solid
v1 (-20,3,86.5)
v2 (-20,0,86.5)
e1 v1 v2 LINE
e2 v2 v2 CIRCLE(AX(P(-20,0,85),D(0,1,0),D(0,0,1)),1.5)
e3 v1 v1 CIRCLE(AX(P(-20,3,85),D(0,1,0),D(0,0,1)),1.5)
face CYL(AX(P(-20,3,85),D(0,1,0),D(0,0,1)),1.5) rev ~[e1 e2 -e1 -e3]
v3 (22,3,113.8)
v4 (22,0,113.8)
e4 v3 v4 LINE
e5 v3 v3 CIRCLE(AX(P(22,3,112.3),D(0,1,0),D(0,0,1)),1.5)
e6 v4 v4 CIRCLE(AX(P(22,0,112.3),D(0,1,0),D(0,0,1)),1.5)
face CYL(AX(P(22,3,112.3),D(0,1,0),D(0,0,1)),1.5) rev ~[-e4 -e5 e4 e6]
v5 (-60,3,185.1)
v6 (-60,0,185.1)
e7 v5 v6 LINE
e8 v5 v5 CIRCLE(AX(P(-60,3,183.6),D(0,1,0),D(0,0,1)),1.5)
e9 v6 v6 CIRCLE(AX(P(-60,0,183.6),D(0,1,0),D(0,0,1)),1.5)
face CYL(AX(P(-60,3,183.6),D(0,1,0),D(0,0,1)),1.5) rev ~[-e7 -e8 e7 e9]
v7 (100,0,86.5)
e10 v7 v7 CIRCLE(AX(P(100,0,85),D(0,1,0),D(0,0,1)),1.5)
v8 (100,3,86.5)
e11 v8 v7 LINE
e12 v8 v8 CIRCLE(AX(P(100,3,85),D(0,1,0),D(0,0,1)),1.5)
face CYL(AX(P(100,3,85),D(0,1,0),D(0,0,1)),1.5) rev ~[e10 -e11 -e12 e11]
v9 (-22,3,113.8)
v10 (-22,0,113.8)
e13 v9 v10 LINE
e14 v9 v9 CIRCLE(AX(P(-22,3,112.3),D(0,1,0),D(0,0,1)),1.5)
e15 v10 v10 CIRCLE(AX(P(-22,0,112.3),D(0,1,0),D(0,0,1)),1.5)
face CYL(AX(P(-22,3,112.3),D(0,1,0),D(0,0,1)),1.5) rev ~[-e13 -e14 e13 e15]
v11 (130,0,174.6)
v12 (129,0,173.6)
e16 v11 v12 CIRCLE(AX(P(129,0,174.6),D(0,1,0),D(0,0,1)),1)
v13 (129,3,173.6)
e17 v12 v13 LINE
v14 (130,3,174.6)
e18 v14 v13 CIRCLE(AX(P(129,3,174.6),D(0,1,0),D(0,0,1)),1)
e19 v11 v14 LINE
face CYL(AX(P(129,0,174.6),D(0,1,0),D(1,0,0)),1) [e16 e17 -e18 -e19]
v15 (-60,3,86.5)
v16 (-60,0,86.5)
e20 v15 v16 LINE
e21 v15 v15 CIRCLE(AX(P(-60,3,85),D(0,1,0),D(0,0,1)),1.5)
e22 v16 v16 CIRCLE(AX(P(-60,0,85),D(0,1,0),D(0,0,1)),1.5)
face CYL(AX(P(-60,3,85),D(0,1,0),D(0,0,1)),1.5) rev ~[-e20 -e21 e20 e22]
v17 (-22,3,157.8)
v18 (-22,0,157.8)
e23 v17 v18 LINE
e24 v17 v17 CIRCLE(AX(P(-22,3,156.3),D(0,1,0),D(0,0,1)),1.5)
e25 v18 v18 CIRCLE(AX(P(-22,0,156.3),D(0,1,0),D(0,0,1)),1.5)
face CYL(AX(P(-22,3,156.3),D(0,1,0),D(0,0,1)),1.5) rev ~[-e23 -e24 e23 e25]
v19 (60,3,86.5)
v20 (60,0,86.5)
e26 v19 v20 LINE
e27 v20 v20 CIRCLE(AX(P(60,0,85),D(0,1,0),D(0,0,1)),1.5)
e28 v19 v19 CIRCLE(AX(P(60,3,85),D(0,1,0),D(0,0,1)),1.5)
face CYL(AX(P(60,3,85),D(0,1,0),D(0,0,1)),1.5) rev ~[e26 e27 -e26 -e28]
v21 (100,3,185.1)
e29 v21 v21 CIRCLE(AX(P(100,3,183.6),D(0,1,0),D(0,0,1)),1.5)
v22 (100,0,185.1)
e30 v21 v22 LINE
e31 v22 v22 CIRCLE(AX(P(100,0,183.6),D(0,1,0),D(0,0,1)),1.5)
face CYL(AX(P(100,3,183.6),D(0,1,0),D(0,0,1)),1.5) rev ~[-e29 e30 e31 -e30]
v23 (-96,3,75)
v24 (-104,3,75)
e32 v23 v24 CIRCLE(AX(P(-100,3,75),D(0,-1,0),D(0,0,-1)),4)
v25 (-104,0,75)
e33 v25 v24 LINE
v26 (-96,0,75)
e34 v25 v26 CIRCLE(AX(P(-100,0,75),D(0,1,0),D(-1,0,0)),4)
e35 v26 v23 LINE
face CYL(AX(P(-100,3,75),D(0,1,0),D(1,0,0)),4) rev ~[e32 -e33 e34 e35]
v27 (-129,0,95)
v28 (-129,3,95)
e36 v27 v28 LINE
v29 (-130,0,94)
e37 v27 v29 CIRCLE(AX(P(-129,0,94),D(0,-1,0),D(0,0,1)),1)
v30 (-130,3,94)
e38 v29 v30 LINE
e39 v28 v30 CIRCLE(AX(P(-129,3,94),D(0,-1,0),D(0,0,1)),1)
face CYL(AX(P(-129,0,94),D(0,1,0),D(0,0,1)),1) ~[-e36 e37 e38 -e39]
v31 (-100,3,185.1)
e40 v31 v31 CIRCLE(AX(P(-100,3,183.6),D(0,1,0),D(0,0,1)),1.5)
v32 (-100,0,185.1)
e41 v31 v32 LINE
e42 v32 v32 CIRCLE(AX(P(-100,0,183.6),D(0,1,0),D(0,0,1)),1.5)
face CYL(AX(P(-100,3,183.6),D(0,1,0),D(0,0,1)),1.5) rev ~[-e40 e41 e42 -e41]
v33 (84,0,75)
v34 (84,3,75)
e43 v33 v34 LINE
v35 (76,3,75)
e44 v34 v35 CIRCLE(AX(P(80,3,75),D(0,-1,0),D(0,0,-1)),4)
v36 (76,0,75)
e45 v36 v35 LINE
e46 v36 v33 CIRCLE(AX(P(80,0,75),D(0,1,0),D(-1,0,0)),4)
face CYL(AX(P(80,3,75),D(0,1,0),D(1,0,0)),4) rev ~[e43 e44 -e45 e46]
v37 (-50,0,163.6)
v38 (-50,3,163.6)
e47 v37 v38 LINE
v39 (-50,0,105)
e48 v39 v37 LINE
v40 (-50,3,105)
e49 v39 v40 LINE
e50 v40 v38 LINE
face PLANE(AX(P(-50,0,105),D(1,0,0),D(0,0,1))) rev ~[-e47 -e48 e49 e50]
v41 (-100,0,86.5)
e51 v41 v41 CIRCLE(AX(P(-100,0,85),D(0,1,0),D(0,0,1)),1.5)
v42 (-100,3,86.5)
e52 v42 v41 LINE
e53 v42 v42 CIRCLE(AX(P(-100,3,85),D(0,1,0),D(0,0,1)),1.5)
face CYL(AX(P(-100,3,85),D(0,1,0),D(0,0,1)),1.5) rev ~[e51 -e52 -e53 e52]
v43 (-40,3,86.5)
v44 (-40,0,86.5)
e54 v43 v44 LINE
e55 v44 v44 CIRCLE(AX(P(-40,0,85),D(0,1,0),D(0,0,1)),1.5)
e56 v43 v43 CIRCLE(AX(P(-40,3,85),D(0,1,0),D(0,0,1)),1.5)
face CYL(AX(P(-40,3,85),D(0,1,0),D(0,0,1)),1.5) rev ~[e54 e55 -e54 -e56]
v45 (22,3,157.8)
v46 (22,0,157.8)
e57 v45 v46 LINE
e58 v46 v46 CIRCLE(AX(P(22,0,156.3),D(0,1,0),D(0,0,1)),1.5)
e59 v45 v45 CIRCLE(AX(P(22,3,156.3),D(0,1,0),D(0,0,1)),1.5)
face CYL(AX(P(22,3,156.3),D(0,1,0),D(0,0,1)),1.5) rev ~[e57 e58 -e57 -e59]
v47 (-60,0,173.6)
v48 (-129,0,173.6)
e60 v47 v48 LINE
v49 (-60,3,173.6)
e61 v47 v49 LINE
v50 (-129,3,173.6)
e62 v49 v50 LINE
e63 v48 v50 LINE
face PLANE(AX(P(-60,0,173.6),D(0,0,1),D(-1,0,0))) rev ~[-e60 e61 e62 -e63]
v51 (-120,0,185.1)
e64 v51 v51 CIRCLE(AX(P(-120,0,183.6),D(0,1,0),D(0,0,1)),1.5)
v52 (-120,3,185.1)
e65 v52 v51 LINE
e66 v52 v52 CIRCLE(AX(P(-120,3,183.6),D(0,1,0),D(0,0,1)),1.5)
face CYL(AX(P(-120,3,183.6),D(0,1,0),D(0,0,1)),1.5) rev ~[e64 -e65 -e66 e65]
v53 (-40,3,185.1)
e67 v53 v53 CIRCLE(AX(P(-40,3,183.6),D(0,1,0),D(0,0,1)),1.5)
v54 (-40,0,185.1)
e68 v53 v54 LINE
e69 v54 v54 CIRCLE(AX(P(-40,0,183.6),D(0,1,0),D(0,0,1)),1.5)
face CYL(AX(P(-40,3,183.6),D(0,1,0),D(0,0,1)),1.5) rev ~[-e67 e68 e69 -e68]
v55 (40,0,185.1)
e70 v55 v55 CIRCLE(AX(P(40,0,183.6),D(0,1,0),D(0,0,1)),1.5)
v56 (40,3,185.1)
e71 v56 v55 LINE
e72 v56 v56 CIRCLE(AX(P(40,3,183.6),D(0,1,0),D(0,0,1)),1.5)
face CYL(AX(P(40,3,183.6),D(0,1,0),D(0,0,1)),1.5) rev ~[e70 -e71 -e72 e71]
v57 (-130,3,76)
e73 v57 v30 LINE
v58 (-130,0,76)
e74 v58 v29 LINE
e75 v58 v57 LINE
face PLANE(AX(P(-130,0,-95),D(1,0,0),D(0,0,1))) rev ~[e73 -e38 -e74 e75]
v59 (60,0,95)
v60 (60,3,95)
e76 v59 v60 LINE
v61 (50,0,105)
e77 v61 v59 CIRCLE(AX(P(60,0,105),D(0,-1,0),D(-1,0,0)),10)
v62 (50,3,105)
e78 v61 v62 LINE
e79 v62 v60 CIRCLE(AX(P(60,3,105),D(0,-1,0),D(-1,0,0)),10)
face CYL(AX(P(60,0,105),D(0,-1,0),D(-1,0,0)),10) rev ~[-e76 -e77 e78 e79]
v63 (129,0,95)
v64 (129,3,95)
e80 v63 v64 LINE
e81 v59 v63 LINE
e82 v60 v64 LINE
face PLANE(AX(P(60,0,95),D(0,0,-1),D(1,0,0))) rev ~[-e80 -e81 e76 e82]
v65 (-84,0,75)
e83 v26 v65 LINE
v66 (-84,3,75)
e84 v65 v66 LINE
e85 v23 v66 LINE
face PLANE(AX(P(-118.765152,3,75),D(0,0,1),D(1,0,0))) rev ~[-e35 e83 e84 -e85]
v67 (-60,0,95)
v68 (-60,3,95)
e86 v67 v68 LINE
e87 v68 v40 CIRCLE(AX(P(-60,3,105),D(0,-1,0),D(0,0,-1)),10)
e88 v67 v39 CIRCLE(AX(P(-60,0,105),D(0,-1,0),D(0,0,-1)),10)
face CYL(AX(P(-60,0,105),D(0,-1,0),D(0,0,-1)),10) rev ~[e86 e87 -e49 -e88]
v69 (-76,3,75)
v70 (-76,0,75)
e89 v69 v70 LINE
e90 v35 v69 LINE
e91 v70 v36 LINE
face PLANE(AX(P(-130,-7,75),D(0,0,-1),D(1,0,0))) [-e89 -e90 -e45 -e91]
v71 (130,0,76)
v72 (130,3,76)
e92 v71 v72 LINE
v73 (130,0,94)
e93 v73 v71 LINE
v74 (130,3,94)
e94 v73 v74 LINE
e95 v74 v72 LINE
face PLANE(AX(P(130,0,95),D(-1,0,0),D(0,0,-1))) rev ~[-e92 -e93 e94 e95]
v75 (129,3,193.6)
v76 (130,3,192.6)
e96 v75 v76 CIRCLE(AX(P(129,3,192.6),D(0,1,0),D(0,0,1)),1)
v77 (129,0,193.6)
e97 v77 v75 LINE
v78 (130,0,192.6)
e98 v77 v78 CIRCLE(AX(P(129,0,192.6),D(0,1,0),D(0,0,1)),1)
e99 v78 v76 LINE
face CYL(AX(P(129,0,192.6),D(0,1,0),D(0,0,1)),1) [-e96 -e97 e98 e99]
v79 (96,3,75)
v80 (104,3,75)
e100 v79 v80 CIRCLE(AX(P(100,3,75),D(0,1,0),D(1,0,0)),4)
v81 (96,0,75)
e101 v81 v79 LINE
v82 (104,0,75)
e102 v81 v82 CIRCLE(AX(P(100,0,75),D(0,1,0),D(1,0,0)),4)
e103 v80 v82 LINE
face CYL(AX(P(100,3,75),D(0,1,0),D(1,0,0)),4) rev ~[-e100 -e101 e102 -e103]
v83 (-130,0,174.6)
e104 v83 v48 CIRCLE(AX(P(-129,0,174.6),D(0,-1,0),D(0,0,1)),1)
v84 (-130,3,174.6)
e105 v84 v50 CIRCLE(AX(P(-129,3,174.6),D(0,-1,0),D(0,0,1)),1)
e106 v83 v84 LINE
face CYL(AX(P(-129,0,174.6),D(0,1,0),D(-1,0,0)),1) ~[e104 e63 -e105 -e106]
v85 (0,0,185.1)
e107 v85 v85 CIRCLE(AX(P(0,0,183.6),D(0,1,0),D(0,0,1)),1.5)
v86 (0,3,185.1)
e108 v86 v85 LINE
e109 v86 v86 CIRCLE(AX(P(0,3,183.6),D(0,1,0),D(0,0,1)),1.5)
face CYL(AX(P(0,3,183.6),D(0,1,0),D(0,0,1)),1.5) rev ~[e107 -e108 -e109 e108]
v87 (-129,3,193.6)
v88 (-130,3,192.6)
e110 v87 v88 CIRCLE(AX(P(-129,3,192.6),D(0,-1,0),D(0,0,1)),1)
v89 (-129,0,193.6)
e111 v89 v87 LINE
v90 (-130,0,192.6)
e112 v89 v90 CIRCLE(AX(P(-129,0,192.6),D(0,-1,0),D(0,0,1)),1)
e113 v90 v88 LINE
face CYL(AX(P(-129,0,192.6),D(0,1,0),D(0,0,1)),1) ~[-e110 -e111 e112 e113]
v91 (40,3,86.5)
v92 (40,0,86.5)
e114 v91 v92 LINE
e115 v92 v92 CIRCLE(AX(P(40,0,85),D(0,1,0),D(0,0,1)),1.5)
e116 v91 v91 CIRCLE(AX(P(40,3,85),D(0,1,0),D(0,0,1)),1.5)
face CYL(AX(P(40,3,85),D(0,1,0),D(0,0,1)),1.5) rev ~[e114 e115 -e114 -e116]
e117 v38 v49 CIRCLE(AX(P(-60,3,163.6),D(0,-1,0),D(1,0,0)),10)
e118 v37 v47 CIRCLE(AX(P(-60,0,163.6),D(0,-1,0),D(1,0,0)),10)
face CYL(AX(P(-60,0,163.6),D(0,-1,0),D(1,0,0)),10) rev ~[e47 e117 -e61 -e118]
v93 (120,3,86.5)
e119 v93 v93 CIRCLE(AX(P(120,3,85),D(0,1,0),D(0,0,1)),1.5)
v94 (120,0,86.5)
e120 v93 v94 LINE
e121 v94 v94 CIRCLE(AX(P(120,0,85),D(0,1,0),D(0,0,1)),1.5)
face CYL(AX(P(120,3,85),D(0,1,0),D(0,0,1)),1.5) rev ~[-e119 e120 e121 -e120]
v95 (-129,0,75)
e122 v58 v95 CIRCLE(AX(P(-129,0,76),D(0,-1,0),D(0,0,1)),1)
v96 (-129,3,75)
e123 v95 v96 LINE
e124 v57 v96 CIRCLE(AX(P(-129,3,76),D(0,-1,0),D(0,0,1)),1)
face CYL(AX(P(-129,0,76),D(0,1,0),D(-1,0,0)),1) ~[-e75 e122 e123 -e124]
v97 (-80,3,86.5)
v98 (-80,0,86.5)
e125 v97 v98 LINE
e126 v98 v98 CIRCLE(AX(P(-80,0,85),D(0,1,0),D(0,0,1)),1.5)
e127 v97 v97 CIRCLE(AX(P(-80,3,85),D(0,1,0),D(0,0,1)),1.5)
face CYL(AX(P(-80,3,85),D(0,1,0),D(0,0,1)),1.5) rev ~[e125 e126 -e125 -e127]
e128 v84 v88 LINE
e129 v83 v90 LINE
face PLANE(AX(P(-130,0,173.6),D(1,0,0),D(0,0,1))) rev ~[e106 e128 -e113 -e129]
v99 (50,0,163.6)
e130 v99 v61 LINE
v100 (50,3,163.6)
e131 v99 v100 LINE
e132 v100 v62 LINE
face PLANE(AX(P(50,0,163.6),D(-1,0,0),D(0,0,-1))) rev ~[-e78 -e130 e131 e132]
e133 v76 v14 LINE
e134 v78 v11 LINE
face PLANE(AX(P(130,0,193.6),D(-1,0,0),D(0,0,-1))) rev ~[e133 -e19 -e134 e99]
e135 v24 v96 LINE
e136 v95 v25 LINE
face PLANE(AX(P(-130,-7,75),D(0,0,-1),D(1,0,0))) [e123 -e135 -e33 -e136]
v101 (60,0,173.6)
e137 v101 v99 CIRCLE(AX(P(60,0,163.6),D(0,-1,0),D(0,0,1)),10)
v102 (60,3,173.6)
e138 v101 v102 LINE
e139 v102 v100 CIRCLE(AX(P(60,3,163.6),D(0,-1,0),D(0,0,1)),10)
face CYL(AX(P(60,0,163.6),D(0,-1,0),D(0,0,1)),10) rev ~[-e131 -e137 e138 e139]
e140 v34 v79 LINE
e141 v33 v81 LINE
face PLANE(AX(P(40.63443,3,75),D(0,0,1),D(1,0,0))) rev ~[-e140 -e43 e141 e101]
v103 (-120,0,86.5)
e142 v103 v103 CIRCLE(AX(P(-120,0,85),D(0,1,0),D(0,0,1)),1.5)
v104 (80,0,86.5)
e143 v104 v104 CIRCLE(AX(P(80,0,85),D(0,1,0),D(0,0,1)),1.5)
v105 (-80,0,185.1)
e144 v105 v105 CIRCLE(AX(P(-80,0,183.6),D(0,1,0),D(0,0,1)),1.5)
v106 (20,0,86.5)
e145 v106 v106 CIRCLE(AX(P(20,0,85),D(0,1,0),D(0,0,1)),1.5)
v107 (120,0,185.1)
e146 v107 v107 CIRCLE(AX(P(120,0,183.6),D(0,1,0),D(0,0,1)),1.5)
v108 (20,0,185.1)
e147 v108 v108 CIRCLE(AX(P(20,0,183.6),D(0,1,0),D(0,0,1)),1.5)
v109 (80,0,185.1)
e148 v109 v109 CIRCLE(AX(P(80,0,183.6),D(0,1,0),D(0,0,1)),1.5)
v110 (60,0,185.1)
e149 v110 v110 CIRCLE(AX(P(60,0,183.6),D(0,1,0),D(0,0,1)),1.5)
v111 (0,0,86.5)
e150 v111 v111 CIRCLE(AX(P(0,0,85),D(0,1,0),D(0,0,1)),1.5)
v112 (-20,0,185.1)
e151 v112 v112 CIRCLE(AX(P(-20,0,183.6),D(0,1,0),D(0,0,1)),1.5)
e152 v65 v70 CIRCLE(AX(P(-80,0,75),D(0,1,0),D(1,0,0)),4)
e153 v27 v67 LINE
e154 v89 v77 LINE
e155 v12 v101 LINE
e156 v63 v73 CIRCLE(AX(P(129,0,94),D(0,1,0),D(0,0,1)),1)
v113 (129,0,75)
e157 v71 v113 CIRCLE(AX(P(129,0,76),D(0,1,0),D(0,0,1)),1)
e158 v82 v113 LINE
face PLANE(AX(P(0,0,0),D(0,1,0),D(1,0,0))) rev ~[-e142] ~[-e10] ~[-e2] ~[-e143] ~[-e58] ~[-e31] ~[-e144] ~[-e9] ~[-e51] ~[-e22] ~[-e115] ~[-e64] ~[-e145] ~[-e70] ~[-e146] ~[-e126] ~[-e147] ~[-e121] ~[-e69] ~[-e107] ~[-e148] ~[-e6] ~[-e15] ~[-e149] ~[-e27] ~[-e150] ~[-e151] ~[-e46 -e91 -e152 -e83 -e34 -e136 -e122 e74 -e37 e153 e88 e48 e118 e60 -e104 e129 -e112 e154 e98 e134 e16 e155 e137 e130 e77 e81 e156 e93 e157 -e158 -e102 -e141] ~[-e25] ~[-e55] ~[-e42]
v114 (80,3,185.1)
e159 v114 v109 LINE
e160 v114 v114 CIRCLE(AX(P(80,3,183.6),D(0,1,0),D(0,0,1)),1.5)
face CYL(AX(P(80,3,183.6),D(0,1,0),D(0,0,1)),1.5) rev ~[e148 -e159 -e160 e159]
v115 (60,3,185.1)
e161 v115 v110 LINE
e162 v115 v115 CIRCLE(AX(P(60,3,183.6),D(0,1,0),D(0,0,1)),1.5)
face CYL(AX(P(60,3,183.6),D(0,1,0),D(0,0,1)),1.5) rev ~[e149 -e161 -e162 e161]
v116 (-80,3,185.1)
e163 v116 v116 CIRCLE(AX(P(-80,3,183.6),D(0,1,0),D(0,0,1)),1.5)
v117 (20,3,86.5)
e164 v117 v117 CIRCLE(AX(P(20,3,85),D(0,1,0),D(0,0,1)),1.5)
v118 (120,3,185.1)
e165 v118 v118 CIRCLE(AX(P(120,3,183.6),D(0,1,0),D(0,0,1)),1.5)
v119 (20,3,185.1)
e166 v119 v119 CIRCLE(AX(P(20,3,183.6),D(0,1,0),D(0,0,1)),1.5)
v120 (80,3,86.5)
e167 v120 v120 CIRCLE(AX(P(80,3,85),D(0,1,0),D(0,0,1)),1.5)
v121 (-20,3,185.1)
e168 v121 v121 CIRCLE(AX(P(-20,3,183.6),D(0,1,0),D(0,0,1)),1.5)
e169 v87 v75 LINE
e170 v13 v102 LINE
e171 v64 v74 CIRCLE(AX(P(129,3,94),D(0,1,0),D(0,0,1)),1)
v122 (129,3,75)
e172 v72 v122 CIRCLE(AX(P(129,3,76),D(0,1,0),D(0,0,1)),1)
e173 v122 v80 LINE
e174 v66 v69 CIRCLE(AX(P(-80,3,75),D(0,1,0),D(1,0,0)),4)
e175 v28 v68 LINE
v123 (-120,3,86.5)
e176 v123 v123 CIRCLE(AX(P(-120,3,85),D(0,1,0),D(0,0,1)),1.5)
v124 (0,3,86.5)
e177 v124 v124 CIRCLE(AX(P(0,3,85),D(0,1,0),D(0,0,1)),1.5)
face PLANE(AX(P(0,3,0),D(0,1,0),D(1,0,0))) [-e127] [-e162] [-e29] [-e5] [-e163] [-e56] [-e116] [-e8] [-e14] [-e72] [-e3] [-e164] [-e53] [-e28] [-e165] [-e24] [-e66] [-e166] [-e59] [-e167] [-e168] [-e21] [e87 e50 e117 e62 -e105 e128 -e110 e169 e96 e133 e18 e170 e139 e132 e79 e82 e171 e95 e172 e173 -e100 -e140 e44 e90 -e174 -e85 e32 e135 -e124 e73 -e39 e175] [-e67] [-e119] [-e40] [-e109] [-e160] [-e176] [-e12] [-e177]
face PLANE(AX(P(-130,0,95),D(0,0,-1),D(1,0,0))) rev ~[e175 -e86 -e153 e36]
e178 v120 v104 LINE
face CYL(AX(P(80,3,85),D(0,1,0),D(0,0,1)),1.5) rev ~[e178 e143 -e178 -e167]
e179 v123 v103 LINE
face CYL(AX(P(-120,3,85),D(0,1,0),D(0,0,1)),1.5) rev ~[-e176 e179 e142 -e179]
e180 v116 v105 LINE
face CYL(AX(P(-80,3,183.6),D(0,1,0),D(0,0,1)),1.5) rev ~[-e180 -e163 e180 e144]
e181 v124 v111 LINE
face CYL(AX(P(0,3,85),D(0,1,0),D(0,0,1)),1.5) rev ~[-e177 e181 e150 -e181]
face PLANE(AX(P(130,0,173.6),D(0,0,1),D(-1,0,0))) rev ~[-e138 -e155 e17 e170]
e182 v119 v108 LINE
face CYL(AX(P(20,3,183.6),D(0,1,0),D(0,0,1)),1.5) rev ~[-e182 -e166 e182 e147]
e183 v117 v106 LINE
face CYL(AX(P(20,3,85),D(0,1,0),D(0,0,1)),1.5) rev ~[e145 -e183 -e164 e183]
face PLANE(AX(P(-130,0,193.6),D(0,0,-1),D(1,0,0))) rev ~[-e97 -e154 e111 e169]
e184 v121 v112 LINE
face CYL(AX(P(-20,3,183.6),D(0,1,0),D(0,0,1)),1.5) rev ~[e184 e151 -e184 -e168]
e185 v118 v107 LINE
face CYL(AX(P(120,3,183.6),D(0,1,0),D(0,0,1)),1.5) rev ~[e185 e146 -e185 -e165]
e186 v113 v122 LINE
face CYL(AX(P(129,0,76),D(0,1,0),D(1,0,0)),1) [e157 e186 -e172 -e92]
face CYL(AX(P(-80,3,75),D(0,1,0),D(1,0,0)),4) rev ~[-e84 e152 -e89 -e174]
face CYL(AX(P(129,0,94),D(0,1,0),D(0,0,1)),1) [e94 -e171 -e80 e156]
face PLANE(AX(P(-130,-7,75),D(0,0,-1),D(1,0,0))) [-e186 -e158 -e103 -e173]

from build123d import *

# Parameters (mm, degrees)
EXTRUDE_1_DEPTH     = 3
CUT_EXTRUDE_START   = -10
CUT_EXTRUDE_1_DEPTH = 10
SKETCH_3_W          = 20
SKETCH_3_H          = 40
EXTRUDE_2_DEPTH     = 3
FILLET_2_R          = 1
FILLET_3_R          = 1
SKETCH_5_R          = 1.5
CUT_EXTRUDE_2_DEPTH = 10
SKETCH_6_R          = 1.5
CUT_EXTRUDE_3_DEPTH = 10
SKETCH_8_R          = 1.5
CUT_EXTRUDE_4_DEPTH = 234.216551728
SKETCH_10_R         = 4
CUT_EXTRUDE_6_DEPTH = 234.216551728
SKETCH_11_W         = 40.88
SKETCH_11_H         = 149.99999794
CUT_EXTRUDE_7_DEPTH = 10
SKETCH_12_W         = 75.865569995
SKETCH_12_H         = 55.877442545
CUT_EXTRUDE_8_DEPTH = 10


with BuildPart() as part:
    # 草图1 → 凸台-拉伸1 (new body)
    with BuildSketch(Plane(origin=(0, 0, 0), x_dir=(1, 0, 0), z_dir=(0, 1, 0))):
        with BuildLine():
            Line((-130, -193.6), (-50, -193.6))
            Line((-50, -193.6), (50, -193.6))
            Line((50, -193.6), (130, -193.6))
            Line((130, -193.6), (130, -173.6))
            Line((130, -173.6), (60, -173.6))
            ThreePointArc((60, -173.6), (52.928932188, -170.671067812), (50, -163.6))
            Line((50, -163.6), (50, -105))
            ThreePointArc((50, -105), (52.928932188, -97.928932188), (60, -95))
            Line((60, -95), (130, -95))
            Line((130, -95), (130, -75))
            Line((130, -75), (130, 75))
            Line((130, 75), (130, 95))
            Line((130, 95), (60, 95))
            ThreePointArc((60, 95), (52.928932188, 97.928932188), (50, 105))
            Line((50, 105), (50, 163.6))
            ThreePointArc((50, 163.6), (52.928932188, 170.671067812), (60, 173.6))
            Line((60, 173.6), (130, 173.6))
            Line((130, 173.6), (130, 193.6))
            Line((130, 193.6), (50, 193.6))
            Line((50, 193.6), (-50, 193.6))
            Line((-50, 193.6), (-130, 193.6))
            Line((-130, 193.6), (-130, 173.6))
            Line((-130, 173.6), (-60, 173.6))
            ThreePointArc((-60, 173.6), (-52.928932188, 170.671067812), (-50, 163.6))
            Line((-50, 163.6), (-50, 105))
            ThreePointArc((-50, 105), (-52.928932188, 97.928932188), (-60, 95))
            Line((-60, 95), (-130, 95))
            Line((-130, 95), (-130, 75))
            Line((-130, 75), (-130, -75))
            Line((-130, -75), (-130, -95))
            Line((-130, -95), (-60, -95))
            ThreePointArc((-60, -95), (-52.928932188, -97.928932188), (-50, -105))
            Line((-50, -105), (-50, -163.6))
            ThreePointArc((-50, -163.6), (-52.928932188, -170.671067812), (-60, -173.6))
            Line((-60, -173.6), (-130, -173.6))
            Line((-130, -173.6), (-130, -193.6))
        make_face()
    extrude(amount=EXTRUDE_1_DEPTH)

    # 草图2 → 切除-拉伸1 (cut)
    with BuildSketch(Plane(origin=(0, 3, 0), x_dir=(1, 0, 0), z_dir=(0, 1, 0)).offset(CUT_EXTRUDE_START)):
        with BuildLine():
            Line((-130, 95), (-130, -75))
            Line((-130, -75), (130, -75))
            Line((130, -75), (130, 95))
            Line((130, 95), (60, 95))
            ThreePointArc((60, 95), (52.928932188, 97.928932188), (50, 105))
            Line((50, 105), (50, 163.6))
            ThreePointArc((50, 163.6), (52.928932188, 170.671067812), (60, 173.6))
            Line((60, 173.6), (130, 173.6))
            Line((130, 173.6), (130, 193.6))
            Line((130, 193.6), (-130, 193.6))
            Line((-130, 193.6), (-130, 173.6))
            Line((-130, 173.6), (-60, 173.6))
            ThreePointArc((-60, 173.6), (-52.928932188, 170.671067812), (-50, 163.6))
            Line((-50, 163.6), (-50, 105))
            ThreePointArc((-50, 105), (-52.928932188, 97.928932188), (-60, 95))
            Line((-60, 95), (-130, 95))
        make_face()
    extrude(amount=CUT_EXTRUDE_1_DEPTH, mode=Mode.SUBTRACT)

    # 草图3 → 凸台-拉伸2 (add)
    with BuildSketch(Plane(origin=(0, 3, 0), x_dir=(1, 0, 0), z_dir=(0, 1, 0))):
        with Locations((90, -55)):
            Rectangle(SKETCH_3_W, SKETCH_3_H)
        with Locations((-90, -55)):
            Rectangle(SKETCH_3_W, SKETCH_3_H)
    extrude(amount=-EXTRUDE_2_DEPTH)

    # 圆角2
    fillet_2_edges = [part.edges().sort_by_distance(p)[0] for p in [
        (-130, 1.5, 75),
        (-100, 1.5, 35),
        (-80, 1.5, 35),
        (-130, 1.5, 193.6),
        (-130, 1.5, 173.6),
        (-130, 1.5, 95),
    ]]
    fillet(fillet_2_edges, radius=FILLET_2_R)

    # 圆角3
    fillet_3_edges = [part.edges().sort_by_distance(p)[0] for p in [
        (130, 1.5, 75),
        (80, 1.5, 35),
        (100, 1.5, 35),
        (130, 1.5, 95),
        (130, 1.5, 173.6),
        (130, 1.5, 193.6),
    ]]
    fillet(fillet_3_edges, radius=FILLET_3_R)

    # 草图5 → 切除-拉伸2 (cut)
    with BuildSketch(Plane(origin=(0, 3, 0), x_dir=(1, 0, 0), z_dir=(0, 1, 0))):
        with Locations(Location((22, -112.3, 0), (0, 0, 270))):
            Circle(SKETCH_5_R)
        with Locations(Location((-22, -112.3, 0), (0, 0, 270))):
            Circle(SKETCH_5_R)
        with Locations(Location((-22, -156.3, 0), (0, 0, 270))):
            Circle(SKETCH_5_R)
        with Locations(Location((22, -156.3, 0), (0, 0, 270))):
            Circle(SKETCH_5_R)
    extrude(amount=-CUT_EXTRUDE_2_DEPTH, mode=Mode.SUBTRACT)

    # 草图6 → 切除-拉伸3 (cut)
    with BuildSketch(Plane(origin=(0, 3, 0), x_dir=(1, 0, 0), z_dir=(0, 1, 0))):
        with Locations(Location((120, -85, 0), (0, 0, 270))):
            Circle(SKETCH_6_R)
        with Locations(Location((80, -85, 0), (0, 0, 270))):
            Circle(SKETCH_6_R)
        with Locations(Location((100, -85, 0), (0, 0, 270))):
            Circle(SKETCH_6_R)
        with Locations(Location((60, -85, 0), (0, 0, 270))):
            Circle(SKETCH_6_R)
        with Locations(Location((40, -85, 0), (0, 0, 270))):
            Circle(SKETCH_6_R)
        with Locations(Location((20, -85, 0), (0, 0, 270))):
            Circle(SKETCH_6_R)
        with Locations(Location((0, -85, 0), (0, 0, 270))):
            Circle(SKETCH_6_R)
        with Locations(Location((-20, -85, 0), (0, 0, 270))):
            Circle(SKETCH_6_R)
        with Locations(Location((-40, -85, 0), (0, 0, 270))):
            Circle(SKETCH_6_R)
        with Locations(Location((-60, -85, 0), (0, 0, 270))):
            Circle(SKETCH_6_R)
        with Locations(Location((-80, -85, 0), (0, 0, 270))):
            Circle(SKETCH_6_R)
        with Locations(Location((-100, -85, 0), (0, 0, 270))):
            Circle(SKETCH_6_R)
        with Locations(Location((-120, -85, 0), (0, 0, 270))):
            Circle(SKETCH_6_R)
        with Locations(Location((-100, -183.6, 0), (0, 0, 270))):
            Circle(SKETCH_6_R)
        with Locations(Location((-120, -183.6, 0), (0, 0, 270))):
            Circle(SKETCH_6_R)
        with Locations(Location((-80, -183.6, 0), (0, 0, 270))):
            Circle(SKETCH_6_R)
        with Locations(Location((-60, -183.6, 0), (0, 0, 270))):
            Circle(SKETCH_6_R)
        with Locations(Location((-40, -183.6, 0), (0, 0, 270))):
            Circle(SKETCH_6_R)
        with Locations(Location((-20, -183.6, 0), (0, 0, 270))):
            Circle(SKETCH_6_R)
        with Locations(Location((0, -183.6, 0), (0, 0, 270))):
            Circle(SKETCH_6_R)
        with Locations(Location((20, -183.6, 0), (0, 0, 270))):
            Circle(SKETCH_6_R)
        with Locations(Location((40, -183.6, 0), (0, 0, 270))):
            Circle(SKETCH_6_R)
        with Locations(Location((60, -183.6, 0), (0, 0, 270))):
            Circle(SKETCH_6_R)
        with Locations(Location((80, -183.6, 0), (0, 0, 270))):
            Circle(SKETCH_6_R)
        with Locations(Location((100, -183.6, 0), (0, 0, 270))):
            Circle(SKETCH_6_R)
        with Locations(Location((120, -183.6, 0), (0, 0, 270))):
            Circle(SKETCH_6_R)
    extrude(amount=-CUT_EXTRUDE_3_DEPTH, mode=Mode.SUBTRACT)

    # 草图8 → 切除-拉伸4 (cut, through all)
    with BuildSketch(Plane.XZ):
        with Locations(Location((-90, 40, 0), (0, 0, 270))):
            Circle(SKETCH_8_R)
        with Locations(Location((-90, 60, 0), (0, 0, 270))):
            Circle(SKETCH_8_R)
        with Locations(Location((90, 60, 0), (0, 0, 270))):
            Circle(SKETCH_8_R)
        with Locations(Location((90, 40, 0), (0, 0, 270))):
            Circle(SKETCH_8_R)
    extrude(amount=-CUT_EXTRUDE_4_DEPTH, mode=Mode.SUBTRACT)

    # 草图10 → 切除-拉伸6 (cut, through all)
    with BuildSketch(Plane(origin=(0, 3, 0), x_dir=(1, 0, 0), z_dir=(0, 1, 0))):
        with Locations((-100, -75)):
            Circle(SKETCH_10_R)
        with Locations((-80, -75)):
            Circle(SKETCH_10_R)
        with Locations((80, -75)):
            Circle(SKETCH_10_R)
        with Locations((100, -75)):
            Circle(SKETCH_10_R)
    extrude(amount=-CUT_EXTRUDE_6_DEPTH, mode=Mode.SUBTRACT)

    # 草图11 → 切除-拉伸7 (cut)
    with BuildSketch(Plane(origin=(0, 3, 0), x_dir=(1, 0, 0), z_dir=(0, 1, 0))):
        with Locations((-98.325151621, -1.03e-06)):
            Rectangle(SKETCH_11_W, SKETCH_11_H)
    extrude(amount=-CUT_EXTRUDE_7_DEPTH, mode=Mode.SUBTRACT)

    # 草图12 → 切除-拉伸8 (cut)
    with BuildSketch(Plane(origin=(0, 3, 0), x_dir=(1, 0, 0), z_dir=(0, 1, 0))):
        with Locations((78.567215003, -47.061278728)):
            Rectangle(SKETCH_12_W, SKETCH_12_H)
    extrude(amount=-CUT_EXTRUDE_8_DEPTH, mode=Mode.SUBTRACT)


solid = part.part
